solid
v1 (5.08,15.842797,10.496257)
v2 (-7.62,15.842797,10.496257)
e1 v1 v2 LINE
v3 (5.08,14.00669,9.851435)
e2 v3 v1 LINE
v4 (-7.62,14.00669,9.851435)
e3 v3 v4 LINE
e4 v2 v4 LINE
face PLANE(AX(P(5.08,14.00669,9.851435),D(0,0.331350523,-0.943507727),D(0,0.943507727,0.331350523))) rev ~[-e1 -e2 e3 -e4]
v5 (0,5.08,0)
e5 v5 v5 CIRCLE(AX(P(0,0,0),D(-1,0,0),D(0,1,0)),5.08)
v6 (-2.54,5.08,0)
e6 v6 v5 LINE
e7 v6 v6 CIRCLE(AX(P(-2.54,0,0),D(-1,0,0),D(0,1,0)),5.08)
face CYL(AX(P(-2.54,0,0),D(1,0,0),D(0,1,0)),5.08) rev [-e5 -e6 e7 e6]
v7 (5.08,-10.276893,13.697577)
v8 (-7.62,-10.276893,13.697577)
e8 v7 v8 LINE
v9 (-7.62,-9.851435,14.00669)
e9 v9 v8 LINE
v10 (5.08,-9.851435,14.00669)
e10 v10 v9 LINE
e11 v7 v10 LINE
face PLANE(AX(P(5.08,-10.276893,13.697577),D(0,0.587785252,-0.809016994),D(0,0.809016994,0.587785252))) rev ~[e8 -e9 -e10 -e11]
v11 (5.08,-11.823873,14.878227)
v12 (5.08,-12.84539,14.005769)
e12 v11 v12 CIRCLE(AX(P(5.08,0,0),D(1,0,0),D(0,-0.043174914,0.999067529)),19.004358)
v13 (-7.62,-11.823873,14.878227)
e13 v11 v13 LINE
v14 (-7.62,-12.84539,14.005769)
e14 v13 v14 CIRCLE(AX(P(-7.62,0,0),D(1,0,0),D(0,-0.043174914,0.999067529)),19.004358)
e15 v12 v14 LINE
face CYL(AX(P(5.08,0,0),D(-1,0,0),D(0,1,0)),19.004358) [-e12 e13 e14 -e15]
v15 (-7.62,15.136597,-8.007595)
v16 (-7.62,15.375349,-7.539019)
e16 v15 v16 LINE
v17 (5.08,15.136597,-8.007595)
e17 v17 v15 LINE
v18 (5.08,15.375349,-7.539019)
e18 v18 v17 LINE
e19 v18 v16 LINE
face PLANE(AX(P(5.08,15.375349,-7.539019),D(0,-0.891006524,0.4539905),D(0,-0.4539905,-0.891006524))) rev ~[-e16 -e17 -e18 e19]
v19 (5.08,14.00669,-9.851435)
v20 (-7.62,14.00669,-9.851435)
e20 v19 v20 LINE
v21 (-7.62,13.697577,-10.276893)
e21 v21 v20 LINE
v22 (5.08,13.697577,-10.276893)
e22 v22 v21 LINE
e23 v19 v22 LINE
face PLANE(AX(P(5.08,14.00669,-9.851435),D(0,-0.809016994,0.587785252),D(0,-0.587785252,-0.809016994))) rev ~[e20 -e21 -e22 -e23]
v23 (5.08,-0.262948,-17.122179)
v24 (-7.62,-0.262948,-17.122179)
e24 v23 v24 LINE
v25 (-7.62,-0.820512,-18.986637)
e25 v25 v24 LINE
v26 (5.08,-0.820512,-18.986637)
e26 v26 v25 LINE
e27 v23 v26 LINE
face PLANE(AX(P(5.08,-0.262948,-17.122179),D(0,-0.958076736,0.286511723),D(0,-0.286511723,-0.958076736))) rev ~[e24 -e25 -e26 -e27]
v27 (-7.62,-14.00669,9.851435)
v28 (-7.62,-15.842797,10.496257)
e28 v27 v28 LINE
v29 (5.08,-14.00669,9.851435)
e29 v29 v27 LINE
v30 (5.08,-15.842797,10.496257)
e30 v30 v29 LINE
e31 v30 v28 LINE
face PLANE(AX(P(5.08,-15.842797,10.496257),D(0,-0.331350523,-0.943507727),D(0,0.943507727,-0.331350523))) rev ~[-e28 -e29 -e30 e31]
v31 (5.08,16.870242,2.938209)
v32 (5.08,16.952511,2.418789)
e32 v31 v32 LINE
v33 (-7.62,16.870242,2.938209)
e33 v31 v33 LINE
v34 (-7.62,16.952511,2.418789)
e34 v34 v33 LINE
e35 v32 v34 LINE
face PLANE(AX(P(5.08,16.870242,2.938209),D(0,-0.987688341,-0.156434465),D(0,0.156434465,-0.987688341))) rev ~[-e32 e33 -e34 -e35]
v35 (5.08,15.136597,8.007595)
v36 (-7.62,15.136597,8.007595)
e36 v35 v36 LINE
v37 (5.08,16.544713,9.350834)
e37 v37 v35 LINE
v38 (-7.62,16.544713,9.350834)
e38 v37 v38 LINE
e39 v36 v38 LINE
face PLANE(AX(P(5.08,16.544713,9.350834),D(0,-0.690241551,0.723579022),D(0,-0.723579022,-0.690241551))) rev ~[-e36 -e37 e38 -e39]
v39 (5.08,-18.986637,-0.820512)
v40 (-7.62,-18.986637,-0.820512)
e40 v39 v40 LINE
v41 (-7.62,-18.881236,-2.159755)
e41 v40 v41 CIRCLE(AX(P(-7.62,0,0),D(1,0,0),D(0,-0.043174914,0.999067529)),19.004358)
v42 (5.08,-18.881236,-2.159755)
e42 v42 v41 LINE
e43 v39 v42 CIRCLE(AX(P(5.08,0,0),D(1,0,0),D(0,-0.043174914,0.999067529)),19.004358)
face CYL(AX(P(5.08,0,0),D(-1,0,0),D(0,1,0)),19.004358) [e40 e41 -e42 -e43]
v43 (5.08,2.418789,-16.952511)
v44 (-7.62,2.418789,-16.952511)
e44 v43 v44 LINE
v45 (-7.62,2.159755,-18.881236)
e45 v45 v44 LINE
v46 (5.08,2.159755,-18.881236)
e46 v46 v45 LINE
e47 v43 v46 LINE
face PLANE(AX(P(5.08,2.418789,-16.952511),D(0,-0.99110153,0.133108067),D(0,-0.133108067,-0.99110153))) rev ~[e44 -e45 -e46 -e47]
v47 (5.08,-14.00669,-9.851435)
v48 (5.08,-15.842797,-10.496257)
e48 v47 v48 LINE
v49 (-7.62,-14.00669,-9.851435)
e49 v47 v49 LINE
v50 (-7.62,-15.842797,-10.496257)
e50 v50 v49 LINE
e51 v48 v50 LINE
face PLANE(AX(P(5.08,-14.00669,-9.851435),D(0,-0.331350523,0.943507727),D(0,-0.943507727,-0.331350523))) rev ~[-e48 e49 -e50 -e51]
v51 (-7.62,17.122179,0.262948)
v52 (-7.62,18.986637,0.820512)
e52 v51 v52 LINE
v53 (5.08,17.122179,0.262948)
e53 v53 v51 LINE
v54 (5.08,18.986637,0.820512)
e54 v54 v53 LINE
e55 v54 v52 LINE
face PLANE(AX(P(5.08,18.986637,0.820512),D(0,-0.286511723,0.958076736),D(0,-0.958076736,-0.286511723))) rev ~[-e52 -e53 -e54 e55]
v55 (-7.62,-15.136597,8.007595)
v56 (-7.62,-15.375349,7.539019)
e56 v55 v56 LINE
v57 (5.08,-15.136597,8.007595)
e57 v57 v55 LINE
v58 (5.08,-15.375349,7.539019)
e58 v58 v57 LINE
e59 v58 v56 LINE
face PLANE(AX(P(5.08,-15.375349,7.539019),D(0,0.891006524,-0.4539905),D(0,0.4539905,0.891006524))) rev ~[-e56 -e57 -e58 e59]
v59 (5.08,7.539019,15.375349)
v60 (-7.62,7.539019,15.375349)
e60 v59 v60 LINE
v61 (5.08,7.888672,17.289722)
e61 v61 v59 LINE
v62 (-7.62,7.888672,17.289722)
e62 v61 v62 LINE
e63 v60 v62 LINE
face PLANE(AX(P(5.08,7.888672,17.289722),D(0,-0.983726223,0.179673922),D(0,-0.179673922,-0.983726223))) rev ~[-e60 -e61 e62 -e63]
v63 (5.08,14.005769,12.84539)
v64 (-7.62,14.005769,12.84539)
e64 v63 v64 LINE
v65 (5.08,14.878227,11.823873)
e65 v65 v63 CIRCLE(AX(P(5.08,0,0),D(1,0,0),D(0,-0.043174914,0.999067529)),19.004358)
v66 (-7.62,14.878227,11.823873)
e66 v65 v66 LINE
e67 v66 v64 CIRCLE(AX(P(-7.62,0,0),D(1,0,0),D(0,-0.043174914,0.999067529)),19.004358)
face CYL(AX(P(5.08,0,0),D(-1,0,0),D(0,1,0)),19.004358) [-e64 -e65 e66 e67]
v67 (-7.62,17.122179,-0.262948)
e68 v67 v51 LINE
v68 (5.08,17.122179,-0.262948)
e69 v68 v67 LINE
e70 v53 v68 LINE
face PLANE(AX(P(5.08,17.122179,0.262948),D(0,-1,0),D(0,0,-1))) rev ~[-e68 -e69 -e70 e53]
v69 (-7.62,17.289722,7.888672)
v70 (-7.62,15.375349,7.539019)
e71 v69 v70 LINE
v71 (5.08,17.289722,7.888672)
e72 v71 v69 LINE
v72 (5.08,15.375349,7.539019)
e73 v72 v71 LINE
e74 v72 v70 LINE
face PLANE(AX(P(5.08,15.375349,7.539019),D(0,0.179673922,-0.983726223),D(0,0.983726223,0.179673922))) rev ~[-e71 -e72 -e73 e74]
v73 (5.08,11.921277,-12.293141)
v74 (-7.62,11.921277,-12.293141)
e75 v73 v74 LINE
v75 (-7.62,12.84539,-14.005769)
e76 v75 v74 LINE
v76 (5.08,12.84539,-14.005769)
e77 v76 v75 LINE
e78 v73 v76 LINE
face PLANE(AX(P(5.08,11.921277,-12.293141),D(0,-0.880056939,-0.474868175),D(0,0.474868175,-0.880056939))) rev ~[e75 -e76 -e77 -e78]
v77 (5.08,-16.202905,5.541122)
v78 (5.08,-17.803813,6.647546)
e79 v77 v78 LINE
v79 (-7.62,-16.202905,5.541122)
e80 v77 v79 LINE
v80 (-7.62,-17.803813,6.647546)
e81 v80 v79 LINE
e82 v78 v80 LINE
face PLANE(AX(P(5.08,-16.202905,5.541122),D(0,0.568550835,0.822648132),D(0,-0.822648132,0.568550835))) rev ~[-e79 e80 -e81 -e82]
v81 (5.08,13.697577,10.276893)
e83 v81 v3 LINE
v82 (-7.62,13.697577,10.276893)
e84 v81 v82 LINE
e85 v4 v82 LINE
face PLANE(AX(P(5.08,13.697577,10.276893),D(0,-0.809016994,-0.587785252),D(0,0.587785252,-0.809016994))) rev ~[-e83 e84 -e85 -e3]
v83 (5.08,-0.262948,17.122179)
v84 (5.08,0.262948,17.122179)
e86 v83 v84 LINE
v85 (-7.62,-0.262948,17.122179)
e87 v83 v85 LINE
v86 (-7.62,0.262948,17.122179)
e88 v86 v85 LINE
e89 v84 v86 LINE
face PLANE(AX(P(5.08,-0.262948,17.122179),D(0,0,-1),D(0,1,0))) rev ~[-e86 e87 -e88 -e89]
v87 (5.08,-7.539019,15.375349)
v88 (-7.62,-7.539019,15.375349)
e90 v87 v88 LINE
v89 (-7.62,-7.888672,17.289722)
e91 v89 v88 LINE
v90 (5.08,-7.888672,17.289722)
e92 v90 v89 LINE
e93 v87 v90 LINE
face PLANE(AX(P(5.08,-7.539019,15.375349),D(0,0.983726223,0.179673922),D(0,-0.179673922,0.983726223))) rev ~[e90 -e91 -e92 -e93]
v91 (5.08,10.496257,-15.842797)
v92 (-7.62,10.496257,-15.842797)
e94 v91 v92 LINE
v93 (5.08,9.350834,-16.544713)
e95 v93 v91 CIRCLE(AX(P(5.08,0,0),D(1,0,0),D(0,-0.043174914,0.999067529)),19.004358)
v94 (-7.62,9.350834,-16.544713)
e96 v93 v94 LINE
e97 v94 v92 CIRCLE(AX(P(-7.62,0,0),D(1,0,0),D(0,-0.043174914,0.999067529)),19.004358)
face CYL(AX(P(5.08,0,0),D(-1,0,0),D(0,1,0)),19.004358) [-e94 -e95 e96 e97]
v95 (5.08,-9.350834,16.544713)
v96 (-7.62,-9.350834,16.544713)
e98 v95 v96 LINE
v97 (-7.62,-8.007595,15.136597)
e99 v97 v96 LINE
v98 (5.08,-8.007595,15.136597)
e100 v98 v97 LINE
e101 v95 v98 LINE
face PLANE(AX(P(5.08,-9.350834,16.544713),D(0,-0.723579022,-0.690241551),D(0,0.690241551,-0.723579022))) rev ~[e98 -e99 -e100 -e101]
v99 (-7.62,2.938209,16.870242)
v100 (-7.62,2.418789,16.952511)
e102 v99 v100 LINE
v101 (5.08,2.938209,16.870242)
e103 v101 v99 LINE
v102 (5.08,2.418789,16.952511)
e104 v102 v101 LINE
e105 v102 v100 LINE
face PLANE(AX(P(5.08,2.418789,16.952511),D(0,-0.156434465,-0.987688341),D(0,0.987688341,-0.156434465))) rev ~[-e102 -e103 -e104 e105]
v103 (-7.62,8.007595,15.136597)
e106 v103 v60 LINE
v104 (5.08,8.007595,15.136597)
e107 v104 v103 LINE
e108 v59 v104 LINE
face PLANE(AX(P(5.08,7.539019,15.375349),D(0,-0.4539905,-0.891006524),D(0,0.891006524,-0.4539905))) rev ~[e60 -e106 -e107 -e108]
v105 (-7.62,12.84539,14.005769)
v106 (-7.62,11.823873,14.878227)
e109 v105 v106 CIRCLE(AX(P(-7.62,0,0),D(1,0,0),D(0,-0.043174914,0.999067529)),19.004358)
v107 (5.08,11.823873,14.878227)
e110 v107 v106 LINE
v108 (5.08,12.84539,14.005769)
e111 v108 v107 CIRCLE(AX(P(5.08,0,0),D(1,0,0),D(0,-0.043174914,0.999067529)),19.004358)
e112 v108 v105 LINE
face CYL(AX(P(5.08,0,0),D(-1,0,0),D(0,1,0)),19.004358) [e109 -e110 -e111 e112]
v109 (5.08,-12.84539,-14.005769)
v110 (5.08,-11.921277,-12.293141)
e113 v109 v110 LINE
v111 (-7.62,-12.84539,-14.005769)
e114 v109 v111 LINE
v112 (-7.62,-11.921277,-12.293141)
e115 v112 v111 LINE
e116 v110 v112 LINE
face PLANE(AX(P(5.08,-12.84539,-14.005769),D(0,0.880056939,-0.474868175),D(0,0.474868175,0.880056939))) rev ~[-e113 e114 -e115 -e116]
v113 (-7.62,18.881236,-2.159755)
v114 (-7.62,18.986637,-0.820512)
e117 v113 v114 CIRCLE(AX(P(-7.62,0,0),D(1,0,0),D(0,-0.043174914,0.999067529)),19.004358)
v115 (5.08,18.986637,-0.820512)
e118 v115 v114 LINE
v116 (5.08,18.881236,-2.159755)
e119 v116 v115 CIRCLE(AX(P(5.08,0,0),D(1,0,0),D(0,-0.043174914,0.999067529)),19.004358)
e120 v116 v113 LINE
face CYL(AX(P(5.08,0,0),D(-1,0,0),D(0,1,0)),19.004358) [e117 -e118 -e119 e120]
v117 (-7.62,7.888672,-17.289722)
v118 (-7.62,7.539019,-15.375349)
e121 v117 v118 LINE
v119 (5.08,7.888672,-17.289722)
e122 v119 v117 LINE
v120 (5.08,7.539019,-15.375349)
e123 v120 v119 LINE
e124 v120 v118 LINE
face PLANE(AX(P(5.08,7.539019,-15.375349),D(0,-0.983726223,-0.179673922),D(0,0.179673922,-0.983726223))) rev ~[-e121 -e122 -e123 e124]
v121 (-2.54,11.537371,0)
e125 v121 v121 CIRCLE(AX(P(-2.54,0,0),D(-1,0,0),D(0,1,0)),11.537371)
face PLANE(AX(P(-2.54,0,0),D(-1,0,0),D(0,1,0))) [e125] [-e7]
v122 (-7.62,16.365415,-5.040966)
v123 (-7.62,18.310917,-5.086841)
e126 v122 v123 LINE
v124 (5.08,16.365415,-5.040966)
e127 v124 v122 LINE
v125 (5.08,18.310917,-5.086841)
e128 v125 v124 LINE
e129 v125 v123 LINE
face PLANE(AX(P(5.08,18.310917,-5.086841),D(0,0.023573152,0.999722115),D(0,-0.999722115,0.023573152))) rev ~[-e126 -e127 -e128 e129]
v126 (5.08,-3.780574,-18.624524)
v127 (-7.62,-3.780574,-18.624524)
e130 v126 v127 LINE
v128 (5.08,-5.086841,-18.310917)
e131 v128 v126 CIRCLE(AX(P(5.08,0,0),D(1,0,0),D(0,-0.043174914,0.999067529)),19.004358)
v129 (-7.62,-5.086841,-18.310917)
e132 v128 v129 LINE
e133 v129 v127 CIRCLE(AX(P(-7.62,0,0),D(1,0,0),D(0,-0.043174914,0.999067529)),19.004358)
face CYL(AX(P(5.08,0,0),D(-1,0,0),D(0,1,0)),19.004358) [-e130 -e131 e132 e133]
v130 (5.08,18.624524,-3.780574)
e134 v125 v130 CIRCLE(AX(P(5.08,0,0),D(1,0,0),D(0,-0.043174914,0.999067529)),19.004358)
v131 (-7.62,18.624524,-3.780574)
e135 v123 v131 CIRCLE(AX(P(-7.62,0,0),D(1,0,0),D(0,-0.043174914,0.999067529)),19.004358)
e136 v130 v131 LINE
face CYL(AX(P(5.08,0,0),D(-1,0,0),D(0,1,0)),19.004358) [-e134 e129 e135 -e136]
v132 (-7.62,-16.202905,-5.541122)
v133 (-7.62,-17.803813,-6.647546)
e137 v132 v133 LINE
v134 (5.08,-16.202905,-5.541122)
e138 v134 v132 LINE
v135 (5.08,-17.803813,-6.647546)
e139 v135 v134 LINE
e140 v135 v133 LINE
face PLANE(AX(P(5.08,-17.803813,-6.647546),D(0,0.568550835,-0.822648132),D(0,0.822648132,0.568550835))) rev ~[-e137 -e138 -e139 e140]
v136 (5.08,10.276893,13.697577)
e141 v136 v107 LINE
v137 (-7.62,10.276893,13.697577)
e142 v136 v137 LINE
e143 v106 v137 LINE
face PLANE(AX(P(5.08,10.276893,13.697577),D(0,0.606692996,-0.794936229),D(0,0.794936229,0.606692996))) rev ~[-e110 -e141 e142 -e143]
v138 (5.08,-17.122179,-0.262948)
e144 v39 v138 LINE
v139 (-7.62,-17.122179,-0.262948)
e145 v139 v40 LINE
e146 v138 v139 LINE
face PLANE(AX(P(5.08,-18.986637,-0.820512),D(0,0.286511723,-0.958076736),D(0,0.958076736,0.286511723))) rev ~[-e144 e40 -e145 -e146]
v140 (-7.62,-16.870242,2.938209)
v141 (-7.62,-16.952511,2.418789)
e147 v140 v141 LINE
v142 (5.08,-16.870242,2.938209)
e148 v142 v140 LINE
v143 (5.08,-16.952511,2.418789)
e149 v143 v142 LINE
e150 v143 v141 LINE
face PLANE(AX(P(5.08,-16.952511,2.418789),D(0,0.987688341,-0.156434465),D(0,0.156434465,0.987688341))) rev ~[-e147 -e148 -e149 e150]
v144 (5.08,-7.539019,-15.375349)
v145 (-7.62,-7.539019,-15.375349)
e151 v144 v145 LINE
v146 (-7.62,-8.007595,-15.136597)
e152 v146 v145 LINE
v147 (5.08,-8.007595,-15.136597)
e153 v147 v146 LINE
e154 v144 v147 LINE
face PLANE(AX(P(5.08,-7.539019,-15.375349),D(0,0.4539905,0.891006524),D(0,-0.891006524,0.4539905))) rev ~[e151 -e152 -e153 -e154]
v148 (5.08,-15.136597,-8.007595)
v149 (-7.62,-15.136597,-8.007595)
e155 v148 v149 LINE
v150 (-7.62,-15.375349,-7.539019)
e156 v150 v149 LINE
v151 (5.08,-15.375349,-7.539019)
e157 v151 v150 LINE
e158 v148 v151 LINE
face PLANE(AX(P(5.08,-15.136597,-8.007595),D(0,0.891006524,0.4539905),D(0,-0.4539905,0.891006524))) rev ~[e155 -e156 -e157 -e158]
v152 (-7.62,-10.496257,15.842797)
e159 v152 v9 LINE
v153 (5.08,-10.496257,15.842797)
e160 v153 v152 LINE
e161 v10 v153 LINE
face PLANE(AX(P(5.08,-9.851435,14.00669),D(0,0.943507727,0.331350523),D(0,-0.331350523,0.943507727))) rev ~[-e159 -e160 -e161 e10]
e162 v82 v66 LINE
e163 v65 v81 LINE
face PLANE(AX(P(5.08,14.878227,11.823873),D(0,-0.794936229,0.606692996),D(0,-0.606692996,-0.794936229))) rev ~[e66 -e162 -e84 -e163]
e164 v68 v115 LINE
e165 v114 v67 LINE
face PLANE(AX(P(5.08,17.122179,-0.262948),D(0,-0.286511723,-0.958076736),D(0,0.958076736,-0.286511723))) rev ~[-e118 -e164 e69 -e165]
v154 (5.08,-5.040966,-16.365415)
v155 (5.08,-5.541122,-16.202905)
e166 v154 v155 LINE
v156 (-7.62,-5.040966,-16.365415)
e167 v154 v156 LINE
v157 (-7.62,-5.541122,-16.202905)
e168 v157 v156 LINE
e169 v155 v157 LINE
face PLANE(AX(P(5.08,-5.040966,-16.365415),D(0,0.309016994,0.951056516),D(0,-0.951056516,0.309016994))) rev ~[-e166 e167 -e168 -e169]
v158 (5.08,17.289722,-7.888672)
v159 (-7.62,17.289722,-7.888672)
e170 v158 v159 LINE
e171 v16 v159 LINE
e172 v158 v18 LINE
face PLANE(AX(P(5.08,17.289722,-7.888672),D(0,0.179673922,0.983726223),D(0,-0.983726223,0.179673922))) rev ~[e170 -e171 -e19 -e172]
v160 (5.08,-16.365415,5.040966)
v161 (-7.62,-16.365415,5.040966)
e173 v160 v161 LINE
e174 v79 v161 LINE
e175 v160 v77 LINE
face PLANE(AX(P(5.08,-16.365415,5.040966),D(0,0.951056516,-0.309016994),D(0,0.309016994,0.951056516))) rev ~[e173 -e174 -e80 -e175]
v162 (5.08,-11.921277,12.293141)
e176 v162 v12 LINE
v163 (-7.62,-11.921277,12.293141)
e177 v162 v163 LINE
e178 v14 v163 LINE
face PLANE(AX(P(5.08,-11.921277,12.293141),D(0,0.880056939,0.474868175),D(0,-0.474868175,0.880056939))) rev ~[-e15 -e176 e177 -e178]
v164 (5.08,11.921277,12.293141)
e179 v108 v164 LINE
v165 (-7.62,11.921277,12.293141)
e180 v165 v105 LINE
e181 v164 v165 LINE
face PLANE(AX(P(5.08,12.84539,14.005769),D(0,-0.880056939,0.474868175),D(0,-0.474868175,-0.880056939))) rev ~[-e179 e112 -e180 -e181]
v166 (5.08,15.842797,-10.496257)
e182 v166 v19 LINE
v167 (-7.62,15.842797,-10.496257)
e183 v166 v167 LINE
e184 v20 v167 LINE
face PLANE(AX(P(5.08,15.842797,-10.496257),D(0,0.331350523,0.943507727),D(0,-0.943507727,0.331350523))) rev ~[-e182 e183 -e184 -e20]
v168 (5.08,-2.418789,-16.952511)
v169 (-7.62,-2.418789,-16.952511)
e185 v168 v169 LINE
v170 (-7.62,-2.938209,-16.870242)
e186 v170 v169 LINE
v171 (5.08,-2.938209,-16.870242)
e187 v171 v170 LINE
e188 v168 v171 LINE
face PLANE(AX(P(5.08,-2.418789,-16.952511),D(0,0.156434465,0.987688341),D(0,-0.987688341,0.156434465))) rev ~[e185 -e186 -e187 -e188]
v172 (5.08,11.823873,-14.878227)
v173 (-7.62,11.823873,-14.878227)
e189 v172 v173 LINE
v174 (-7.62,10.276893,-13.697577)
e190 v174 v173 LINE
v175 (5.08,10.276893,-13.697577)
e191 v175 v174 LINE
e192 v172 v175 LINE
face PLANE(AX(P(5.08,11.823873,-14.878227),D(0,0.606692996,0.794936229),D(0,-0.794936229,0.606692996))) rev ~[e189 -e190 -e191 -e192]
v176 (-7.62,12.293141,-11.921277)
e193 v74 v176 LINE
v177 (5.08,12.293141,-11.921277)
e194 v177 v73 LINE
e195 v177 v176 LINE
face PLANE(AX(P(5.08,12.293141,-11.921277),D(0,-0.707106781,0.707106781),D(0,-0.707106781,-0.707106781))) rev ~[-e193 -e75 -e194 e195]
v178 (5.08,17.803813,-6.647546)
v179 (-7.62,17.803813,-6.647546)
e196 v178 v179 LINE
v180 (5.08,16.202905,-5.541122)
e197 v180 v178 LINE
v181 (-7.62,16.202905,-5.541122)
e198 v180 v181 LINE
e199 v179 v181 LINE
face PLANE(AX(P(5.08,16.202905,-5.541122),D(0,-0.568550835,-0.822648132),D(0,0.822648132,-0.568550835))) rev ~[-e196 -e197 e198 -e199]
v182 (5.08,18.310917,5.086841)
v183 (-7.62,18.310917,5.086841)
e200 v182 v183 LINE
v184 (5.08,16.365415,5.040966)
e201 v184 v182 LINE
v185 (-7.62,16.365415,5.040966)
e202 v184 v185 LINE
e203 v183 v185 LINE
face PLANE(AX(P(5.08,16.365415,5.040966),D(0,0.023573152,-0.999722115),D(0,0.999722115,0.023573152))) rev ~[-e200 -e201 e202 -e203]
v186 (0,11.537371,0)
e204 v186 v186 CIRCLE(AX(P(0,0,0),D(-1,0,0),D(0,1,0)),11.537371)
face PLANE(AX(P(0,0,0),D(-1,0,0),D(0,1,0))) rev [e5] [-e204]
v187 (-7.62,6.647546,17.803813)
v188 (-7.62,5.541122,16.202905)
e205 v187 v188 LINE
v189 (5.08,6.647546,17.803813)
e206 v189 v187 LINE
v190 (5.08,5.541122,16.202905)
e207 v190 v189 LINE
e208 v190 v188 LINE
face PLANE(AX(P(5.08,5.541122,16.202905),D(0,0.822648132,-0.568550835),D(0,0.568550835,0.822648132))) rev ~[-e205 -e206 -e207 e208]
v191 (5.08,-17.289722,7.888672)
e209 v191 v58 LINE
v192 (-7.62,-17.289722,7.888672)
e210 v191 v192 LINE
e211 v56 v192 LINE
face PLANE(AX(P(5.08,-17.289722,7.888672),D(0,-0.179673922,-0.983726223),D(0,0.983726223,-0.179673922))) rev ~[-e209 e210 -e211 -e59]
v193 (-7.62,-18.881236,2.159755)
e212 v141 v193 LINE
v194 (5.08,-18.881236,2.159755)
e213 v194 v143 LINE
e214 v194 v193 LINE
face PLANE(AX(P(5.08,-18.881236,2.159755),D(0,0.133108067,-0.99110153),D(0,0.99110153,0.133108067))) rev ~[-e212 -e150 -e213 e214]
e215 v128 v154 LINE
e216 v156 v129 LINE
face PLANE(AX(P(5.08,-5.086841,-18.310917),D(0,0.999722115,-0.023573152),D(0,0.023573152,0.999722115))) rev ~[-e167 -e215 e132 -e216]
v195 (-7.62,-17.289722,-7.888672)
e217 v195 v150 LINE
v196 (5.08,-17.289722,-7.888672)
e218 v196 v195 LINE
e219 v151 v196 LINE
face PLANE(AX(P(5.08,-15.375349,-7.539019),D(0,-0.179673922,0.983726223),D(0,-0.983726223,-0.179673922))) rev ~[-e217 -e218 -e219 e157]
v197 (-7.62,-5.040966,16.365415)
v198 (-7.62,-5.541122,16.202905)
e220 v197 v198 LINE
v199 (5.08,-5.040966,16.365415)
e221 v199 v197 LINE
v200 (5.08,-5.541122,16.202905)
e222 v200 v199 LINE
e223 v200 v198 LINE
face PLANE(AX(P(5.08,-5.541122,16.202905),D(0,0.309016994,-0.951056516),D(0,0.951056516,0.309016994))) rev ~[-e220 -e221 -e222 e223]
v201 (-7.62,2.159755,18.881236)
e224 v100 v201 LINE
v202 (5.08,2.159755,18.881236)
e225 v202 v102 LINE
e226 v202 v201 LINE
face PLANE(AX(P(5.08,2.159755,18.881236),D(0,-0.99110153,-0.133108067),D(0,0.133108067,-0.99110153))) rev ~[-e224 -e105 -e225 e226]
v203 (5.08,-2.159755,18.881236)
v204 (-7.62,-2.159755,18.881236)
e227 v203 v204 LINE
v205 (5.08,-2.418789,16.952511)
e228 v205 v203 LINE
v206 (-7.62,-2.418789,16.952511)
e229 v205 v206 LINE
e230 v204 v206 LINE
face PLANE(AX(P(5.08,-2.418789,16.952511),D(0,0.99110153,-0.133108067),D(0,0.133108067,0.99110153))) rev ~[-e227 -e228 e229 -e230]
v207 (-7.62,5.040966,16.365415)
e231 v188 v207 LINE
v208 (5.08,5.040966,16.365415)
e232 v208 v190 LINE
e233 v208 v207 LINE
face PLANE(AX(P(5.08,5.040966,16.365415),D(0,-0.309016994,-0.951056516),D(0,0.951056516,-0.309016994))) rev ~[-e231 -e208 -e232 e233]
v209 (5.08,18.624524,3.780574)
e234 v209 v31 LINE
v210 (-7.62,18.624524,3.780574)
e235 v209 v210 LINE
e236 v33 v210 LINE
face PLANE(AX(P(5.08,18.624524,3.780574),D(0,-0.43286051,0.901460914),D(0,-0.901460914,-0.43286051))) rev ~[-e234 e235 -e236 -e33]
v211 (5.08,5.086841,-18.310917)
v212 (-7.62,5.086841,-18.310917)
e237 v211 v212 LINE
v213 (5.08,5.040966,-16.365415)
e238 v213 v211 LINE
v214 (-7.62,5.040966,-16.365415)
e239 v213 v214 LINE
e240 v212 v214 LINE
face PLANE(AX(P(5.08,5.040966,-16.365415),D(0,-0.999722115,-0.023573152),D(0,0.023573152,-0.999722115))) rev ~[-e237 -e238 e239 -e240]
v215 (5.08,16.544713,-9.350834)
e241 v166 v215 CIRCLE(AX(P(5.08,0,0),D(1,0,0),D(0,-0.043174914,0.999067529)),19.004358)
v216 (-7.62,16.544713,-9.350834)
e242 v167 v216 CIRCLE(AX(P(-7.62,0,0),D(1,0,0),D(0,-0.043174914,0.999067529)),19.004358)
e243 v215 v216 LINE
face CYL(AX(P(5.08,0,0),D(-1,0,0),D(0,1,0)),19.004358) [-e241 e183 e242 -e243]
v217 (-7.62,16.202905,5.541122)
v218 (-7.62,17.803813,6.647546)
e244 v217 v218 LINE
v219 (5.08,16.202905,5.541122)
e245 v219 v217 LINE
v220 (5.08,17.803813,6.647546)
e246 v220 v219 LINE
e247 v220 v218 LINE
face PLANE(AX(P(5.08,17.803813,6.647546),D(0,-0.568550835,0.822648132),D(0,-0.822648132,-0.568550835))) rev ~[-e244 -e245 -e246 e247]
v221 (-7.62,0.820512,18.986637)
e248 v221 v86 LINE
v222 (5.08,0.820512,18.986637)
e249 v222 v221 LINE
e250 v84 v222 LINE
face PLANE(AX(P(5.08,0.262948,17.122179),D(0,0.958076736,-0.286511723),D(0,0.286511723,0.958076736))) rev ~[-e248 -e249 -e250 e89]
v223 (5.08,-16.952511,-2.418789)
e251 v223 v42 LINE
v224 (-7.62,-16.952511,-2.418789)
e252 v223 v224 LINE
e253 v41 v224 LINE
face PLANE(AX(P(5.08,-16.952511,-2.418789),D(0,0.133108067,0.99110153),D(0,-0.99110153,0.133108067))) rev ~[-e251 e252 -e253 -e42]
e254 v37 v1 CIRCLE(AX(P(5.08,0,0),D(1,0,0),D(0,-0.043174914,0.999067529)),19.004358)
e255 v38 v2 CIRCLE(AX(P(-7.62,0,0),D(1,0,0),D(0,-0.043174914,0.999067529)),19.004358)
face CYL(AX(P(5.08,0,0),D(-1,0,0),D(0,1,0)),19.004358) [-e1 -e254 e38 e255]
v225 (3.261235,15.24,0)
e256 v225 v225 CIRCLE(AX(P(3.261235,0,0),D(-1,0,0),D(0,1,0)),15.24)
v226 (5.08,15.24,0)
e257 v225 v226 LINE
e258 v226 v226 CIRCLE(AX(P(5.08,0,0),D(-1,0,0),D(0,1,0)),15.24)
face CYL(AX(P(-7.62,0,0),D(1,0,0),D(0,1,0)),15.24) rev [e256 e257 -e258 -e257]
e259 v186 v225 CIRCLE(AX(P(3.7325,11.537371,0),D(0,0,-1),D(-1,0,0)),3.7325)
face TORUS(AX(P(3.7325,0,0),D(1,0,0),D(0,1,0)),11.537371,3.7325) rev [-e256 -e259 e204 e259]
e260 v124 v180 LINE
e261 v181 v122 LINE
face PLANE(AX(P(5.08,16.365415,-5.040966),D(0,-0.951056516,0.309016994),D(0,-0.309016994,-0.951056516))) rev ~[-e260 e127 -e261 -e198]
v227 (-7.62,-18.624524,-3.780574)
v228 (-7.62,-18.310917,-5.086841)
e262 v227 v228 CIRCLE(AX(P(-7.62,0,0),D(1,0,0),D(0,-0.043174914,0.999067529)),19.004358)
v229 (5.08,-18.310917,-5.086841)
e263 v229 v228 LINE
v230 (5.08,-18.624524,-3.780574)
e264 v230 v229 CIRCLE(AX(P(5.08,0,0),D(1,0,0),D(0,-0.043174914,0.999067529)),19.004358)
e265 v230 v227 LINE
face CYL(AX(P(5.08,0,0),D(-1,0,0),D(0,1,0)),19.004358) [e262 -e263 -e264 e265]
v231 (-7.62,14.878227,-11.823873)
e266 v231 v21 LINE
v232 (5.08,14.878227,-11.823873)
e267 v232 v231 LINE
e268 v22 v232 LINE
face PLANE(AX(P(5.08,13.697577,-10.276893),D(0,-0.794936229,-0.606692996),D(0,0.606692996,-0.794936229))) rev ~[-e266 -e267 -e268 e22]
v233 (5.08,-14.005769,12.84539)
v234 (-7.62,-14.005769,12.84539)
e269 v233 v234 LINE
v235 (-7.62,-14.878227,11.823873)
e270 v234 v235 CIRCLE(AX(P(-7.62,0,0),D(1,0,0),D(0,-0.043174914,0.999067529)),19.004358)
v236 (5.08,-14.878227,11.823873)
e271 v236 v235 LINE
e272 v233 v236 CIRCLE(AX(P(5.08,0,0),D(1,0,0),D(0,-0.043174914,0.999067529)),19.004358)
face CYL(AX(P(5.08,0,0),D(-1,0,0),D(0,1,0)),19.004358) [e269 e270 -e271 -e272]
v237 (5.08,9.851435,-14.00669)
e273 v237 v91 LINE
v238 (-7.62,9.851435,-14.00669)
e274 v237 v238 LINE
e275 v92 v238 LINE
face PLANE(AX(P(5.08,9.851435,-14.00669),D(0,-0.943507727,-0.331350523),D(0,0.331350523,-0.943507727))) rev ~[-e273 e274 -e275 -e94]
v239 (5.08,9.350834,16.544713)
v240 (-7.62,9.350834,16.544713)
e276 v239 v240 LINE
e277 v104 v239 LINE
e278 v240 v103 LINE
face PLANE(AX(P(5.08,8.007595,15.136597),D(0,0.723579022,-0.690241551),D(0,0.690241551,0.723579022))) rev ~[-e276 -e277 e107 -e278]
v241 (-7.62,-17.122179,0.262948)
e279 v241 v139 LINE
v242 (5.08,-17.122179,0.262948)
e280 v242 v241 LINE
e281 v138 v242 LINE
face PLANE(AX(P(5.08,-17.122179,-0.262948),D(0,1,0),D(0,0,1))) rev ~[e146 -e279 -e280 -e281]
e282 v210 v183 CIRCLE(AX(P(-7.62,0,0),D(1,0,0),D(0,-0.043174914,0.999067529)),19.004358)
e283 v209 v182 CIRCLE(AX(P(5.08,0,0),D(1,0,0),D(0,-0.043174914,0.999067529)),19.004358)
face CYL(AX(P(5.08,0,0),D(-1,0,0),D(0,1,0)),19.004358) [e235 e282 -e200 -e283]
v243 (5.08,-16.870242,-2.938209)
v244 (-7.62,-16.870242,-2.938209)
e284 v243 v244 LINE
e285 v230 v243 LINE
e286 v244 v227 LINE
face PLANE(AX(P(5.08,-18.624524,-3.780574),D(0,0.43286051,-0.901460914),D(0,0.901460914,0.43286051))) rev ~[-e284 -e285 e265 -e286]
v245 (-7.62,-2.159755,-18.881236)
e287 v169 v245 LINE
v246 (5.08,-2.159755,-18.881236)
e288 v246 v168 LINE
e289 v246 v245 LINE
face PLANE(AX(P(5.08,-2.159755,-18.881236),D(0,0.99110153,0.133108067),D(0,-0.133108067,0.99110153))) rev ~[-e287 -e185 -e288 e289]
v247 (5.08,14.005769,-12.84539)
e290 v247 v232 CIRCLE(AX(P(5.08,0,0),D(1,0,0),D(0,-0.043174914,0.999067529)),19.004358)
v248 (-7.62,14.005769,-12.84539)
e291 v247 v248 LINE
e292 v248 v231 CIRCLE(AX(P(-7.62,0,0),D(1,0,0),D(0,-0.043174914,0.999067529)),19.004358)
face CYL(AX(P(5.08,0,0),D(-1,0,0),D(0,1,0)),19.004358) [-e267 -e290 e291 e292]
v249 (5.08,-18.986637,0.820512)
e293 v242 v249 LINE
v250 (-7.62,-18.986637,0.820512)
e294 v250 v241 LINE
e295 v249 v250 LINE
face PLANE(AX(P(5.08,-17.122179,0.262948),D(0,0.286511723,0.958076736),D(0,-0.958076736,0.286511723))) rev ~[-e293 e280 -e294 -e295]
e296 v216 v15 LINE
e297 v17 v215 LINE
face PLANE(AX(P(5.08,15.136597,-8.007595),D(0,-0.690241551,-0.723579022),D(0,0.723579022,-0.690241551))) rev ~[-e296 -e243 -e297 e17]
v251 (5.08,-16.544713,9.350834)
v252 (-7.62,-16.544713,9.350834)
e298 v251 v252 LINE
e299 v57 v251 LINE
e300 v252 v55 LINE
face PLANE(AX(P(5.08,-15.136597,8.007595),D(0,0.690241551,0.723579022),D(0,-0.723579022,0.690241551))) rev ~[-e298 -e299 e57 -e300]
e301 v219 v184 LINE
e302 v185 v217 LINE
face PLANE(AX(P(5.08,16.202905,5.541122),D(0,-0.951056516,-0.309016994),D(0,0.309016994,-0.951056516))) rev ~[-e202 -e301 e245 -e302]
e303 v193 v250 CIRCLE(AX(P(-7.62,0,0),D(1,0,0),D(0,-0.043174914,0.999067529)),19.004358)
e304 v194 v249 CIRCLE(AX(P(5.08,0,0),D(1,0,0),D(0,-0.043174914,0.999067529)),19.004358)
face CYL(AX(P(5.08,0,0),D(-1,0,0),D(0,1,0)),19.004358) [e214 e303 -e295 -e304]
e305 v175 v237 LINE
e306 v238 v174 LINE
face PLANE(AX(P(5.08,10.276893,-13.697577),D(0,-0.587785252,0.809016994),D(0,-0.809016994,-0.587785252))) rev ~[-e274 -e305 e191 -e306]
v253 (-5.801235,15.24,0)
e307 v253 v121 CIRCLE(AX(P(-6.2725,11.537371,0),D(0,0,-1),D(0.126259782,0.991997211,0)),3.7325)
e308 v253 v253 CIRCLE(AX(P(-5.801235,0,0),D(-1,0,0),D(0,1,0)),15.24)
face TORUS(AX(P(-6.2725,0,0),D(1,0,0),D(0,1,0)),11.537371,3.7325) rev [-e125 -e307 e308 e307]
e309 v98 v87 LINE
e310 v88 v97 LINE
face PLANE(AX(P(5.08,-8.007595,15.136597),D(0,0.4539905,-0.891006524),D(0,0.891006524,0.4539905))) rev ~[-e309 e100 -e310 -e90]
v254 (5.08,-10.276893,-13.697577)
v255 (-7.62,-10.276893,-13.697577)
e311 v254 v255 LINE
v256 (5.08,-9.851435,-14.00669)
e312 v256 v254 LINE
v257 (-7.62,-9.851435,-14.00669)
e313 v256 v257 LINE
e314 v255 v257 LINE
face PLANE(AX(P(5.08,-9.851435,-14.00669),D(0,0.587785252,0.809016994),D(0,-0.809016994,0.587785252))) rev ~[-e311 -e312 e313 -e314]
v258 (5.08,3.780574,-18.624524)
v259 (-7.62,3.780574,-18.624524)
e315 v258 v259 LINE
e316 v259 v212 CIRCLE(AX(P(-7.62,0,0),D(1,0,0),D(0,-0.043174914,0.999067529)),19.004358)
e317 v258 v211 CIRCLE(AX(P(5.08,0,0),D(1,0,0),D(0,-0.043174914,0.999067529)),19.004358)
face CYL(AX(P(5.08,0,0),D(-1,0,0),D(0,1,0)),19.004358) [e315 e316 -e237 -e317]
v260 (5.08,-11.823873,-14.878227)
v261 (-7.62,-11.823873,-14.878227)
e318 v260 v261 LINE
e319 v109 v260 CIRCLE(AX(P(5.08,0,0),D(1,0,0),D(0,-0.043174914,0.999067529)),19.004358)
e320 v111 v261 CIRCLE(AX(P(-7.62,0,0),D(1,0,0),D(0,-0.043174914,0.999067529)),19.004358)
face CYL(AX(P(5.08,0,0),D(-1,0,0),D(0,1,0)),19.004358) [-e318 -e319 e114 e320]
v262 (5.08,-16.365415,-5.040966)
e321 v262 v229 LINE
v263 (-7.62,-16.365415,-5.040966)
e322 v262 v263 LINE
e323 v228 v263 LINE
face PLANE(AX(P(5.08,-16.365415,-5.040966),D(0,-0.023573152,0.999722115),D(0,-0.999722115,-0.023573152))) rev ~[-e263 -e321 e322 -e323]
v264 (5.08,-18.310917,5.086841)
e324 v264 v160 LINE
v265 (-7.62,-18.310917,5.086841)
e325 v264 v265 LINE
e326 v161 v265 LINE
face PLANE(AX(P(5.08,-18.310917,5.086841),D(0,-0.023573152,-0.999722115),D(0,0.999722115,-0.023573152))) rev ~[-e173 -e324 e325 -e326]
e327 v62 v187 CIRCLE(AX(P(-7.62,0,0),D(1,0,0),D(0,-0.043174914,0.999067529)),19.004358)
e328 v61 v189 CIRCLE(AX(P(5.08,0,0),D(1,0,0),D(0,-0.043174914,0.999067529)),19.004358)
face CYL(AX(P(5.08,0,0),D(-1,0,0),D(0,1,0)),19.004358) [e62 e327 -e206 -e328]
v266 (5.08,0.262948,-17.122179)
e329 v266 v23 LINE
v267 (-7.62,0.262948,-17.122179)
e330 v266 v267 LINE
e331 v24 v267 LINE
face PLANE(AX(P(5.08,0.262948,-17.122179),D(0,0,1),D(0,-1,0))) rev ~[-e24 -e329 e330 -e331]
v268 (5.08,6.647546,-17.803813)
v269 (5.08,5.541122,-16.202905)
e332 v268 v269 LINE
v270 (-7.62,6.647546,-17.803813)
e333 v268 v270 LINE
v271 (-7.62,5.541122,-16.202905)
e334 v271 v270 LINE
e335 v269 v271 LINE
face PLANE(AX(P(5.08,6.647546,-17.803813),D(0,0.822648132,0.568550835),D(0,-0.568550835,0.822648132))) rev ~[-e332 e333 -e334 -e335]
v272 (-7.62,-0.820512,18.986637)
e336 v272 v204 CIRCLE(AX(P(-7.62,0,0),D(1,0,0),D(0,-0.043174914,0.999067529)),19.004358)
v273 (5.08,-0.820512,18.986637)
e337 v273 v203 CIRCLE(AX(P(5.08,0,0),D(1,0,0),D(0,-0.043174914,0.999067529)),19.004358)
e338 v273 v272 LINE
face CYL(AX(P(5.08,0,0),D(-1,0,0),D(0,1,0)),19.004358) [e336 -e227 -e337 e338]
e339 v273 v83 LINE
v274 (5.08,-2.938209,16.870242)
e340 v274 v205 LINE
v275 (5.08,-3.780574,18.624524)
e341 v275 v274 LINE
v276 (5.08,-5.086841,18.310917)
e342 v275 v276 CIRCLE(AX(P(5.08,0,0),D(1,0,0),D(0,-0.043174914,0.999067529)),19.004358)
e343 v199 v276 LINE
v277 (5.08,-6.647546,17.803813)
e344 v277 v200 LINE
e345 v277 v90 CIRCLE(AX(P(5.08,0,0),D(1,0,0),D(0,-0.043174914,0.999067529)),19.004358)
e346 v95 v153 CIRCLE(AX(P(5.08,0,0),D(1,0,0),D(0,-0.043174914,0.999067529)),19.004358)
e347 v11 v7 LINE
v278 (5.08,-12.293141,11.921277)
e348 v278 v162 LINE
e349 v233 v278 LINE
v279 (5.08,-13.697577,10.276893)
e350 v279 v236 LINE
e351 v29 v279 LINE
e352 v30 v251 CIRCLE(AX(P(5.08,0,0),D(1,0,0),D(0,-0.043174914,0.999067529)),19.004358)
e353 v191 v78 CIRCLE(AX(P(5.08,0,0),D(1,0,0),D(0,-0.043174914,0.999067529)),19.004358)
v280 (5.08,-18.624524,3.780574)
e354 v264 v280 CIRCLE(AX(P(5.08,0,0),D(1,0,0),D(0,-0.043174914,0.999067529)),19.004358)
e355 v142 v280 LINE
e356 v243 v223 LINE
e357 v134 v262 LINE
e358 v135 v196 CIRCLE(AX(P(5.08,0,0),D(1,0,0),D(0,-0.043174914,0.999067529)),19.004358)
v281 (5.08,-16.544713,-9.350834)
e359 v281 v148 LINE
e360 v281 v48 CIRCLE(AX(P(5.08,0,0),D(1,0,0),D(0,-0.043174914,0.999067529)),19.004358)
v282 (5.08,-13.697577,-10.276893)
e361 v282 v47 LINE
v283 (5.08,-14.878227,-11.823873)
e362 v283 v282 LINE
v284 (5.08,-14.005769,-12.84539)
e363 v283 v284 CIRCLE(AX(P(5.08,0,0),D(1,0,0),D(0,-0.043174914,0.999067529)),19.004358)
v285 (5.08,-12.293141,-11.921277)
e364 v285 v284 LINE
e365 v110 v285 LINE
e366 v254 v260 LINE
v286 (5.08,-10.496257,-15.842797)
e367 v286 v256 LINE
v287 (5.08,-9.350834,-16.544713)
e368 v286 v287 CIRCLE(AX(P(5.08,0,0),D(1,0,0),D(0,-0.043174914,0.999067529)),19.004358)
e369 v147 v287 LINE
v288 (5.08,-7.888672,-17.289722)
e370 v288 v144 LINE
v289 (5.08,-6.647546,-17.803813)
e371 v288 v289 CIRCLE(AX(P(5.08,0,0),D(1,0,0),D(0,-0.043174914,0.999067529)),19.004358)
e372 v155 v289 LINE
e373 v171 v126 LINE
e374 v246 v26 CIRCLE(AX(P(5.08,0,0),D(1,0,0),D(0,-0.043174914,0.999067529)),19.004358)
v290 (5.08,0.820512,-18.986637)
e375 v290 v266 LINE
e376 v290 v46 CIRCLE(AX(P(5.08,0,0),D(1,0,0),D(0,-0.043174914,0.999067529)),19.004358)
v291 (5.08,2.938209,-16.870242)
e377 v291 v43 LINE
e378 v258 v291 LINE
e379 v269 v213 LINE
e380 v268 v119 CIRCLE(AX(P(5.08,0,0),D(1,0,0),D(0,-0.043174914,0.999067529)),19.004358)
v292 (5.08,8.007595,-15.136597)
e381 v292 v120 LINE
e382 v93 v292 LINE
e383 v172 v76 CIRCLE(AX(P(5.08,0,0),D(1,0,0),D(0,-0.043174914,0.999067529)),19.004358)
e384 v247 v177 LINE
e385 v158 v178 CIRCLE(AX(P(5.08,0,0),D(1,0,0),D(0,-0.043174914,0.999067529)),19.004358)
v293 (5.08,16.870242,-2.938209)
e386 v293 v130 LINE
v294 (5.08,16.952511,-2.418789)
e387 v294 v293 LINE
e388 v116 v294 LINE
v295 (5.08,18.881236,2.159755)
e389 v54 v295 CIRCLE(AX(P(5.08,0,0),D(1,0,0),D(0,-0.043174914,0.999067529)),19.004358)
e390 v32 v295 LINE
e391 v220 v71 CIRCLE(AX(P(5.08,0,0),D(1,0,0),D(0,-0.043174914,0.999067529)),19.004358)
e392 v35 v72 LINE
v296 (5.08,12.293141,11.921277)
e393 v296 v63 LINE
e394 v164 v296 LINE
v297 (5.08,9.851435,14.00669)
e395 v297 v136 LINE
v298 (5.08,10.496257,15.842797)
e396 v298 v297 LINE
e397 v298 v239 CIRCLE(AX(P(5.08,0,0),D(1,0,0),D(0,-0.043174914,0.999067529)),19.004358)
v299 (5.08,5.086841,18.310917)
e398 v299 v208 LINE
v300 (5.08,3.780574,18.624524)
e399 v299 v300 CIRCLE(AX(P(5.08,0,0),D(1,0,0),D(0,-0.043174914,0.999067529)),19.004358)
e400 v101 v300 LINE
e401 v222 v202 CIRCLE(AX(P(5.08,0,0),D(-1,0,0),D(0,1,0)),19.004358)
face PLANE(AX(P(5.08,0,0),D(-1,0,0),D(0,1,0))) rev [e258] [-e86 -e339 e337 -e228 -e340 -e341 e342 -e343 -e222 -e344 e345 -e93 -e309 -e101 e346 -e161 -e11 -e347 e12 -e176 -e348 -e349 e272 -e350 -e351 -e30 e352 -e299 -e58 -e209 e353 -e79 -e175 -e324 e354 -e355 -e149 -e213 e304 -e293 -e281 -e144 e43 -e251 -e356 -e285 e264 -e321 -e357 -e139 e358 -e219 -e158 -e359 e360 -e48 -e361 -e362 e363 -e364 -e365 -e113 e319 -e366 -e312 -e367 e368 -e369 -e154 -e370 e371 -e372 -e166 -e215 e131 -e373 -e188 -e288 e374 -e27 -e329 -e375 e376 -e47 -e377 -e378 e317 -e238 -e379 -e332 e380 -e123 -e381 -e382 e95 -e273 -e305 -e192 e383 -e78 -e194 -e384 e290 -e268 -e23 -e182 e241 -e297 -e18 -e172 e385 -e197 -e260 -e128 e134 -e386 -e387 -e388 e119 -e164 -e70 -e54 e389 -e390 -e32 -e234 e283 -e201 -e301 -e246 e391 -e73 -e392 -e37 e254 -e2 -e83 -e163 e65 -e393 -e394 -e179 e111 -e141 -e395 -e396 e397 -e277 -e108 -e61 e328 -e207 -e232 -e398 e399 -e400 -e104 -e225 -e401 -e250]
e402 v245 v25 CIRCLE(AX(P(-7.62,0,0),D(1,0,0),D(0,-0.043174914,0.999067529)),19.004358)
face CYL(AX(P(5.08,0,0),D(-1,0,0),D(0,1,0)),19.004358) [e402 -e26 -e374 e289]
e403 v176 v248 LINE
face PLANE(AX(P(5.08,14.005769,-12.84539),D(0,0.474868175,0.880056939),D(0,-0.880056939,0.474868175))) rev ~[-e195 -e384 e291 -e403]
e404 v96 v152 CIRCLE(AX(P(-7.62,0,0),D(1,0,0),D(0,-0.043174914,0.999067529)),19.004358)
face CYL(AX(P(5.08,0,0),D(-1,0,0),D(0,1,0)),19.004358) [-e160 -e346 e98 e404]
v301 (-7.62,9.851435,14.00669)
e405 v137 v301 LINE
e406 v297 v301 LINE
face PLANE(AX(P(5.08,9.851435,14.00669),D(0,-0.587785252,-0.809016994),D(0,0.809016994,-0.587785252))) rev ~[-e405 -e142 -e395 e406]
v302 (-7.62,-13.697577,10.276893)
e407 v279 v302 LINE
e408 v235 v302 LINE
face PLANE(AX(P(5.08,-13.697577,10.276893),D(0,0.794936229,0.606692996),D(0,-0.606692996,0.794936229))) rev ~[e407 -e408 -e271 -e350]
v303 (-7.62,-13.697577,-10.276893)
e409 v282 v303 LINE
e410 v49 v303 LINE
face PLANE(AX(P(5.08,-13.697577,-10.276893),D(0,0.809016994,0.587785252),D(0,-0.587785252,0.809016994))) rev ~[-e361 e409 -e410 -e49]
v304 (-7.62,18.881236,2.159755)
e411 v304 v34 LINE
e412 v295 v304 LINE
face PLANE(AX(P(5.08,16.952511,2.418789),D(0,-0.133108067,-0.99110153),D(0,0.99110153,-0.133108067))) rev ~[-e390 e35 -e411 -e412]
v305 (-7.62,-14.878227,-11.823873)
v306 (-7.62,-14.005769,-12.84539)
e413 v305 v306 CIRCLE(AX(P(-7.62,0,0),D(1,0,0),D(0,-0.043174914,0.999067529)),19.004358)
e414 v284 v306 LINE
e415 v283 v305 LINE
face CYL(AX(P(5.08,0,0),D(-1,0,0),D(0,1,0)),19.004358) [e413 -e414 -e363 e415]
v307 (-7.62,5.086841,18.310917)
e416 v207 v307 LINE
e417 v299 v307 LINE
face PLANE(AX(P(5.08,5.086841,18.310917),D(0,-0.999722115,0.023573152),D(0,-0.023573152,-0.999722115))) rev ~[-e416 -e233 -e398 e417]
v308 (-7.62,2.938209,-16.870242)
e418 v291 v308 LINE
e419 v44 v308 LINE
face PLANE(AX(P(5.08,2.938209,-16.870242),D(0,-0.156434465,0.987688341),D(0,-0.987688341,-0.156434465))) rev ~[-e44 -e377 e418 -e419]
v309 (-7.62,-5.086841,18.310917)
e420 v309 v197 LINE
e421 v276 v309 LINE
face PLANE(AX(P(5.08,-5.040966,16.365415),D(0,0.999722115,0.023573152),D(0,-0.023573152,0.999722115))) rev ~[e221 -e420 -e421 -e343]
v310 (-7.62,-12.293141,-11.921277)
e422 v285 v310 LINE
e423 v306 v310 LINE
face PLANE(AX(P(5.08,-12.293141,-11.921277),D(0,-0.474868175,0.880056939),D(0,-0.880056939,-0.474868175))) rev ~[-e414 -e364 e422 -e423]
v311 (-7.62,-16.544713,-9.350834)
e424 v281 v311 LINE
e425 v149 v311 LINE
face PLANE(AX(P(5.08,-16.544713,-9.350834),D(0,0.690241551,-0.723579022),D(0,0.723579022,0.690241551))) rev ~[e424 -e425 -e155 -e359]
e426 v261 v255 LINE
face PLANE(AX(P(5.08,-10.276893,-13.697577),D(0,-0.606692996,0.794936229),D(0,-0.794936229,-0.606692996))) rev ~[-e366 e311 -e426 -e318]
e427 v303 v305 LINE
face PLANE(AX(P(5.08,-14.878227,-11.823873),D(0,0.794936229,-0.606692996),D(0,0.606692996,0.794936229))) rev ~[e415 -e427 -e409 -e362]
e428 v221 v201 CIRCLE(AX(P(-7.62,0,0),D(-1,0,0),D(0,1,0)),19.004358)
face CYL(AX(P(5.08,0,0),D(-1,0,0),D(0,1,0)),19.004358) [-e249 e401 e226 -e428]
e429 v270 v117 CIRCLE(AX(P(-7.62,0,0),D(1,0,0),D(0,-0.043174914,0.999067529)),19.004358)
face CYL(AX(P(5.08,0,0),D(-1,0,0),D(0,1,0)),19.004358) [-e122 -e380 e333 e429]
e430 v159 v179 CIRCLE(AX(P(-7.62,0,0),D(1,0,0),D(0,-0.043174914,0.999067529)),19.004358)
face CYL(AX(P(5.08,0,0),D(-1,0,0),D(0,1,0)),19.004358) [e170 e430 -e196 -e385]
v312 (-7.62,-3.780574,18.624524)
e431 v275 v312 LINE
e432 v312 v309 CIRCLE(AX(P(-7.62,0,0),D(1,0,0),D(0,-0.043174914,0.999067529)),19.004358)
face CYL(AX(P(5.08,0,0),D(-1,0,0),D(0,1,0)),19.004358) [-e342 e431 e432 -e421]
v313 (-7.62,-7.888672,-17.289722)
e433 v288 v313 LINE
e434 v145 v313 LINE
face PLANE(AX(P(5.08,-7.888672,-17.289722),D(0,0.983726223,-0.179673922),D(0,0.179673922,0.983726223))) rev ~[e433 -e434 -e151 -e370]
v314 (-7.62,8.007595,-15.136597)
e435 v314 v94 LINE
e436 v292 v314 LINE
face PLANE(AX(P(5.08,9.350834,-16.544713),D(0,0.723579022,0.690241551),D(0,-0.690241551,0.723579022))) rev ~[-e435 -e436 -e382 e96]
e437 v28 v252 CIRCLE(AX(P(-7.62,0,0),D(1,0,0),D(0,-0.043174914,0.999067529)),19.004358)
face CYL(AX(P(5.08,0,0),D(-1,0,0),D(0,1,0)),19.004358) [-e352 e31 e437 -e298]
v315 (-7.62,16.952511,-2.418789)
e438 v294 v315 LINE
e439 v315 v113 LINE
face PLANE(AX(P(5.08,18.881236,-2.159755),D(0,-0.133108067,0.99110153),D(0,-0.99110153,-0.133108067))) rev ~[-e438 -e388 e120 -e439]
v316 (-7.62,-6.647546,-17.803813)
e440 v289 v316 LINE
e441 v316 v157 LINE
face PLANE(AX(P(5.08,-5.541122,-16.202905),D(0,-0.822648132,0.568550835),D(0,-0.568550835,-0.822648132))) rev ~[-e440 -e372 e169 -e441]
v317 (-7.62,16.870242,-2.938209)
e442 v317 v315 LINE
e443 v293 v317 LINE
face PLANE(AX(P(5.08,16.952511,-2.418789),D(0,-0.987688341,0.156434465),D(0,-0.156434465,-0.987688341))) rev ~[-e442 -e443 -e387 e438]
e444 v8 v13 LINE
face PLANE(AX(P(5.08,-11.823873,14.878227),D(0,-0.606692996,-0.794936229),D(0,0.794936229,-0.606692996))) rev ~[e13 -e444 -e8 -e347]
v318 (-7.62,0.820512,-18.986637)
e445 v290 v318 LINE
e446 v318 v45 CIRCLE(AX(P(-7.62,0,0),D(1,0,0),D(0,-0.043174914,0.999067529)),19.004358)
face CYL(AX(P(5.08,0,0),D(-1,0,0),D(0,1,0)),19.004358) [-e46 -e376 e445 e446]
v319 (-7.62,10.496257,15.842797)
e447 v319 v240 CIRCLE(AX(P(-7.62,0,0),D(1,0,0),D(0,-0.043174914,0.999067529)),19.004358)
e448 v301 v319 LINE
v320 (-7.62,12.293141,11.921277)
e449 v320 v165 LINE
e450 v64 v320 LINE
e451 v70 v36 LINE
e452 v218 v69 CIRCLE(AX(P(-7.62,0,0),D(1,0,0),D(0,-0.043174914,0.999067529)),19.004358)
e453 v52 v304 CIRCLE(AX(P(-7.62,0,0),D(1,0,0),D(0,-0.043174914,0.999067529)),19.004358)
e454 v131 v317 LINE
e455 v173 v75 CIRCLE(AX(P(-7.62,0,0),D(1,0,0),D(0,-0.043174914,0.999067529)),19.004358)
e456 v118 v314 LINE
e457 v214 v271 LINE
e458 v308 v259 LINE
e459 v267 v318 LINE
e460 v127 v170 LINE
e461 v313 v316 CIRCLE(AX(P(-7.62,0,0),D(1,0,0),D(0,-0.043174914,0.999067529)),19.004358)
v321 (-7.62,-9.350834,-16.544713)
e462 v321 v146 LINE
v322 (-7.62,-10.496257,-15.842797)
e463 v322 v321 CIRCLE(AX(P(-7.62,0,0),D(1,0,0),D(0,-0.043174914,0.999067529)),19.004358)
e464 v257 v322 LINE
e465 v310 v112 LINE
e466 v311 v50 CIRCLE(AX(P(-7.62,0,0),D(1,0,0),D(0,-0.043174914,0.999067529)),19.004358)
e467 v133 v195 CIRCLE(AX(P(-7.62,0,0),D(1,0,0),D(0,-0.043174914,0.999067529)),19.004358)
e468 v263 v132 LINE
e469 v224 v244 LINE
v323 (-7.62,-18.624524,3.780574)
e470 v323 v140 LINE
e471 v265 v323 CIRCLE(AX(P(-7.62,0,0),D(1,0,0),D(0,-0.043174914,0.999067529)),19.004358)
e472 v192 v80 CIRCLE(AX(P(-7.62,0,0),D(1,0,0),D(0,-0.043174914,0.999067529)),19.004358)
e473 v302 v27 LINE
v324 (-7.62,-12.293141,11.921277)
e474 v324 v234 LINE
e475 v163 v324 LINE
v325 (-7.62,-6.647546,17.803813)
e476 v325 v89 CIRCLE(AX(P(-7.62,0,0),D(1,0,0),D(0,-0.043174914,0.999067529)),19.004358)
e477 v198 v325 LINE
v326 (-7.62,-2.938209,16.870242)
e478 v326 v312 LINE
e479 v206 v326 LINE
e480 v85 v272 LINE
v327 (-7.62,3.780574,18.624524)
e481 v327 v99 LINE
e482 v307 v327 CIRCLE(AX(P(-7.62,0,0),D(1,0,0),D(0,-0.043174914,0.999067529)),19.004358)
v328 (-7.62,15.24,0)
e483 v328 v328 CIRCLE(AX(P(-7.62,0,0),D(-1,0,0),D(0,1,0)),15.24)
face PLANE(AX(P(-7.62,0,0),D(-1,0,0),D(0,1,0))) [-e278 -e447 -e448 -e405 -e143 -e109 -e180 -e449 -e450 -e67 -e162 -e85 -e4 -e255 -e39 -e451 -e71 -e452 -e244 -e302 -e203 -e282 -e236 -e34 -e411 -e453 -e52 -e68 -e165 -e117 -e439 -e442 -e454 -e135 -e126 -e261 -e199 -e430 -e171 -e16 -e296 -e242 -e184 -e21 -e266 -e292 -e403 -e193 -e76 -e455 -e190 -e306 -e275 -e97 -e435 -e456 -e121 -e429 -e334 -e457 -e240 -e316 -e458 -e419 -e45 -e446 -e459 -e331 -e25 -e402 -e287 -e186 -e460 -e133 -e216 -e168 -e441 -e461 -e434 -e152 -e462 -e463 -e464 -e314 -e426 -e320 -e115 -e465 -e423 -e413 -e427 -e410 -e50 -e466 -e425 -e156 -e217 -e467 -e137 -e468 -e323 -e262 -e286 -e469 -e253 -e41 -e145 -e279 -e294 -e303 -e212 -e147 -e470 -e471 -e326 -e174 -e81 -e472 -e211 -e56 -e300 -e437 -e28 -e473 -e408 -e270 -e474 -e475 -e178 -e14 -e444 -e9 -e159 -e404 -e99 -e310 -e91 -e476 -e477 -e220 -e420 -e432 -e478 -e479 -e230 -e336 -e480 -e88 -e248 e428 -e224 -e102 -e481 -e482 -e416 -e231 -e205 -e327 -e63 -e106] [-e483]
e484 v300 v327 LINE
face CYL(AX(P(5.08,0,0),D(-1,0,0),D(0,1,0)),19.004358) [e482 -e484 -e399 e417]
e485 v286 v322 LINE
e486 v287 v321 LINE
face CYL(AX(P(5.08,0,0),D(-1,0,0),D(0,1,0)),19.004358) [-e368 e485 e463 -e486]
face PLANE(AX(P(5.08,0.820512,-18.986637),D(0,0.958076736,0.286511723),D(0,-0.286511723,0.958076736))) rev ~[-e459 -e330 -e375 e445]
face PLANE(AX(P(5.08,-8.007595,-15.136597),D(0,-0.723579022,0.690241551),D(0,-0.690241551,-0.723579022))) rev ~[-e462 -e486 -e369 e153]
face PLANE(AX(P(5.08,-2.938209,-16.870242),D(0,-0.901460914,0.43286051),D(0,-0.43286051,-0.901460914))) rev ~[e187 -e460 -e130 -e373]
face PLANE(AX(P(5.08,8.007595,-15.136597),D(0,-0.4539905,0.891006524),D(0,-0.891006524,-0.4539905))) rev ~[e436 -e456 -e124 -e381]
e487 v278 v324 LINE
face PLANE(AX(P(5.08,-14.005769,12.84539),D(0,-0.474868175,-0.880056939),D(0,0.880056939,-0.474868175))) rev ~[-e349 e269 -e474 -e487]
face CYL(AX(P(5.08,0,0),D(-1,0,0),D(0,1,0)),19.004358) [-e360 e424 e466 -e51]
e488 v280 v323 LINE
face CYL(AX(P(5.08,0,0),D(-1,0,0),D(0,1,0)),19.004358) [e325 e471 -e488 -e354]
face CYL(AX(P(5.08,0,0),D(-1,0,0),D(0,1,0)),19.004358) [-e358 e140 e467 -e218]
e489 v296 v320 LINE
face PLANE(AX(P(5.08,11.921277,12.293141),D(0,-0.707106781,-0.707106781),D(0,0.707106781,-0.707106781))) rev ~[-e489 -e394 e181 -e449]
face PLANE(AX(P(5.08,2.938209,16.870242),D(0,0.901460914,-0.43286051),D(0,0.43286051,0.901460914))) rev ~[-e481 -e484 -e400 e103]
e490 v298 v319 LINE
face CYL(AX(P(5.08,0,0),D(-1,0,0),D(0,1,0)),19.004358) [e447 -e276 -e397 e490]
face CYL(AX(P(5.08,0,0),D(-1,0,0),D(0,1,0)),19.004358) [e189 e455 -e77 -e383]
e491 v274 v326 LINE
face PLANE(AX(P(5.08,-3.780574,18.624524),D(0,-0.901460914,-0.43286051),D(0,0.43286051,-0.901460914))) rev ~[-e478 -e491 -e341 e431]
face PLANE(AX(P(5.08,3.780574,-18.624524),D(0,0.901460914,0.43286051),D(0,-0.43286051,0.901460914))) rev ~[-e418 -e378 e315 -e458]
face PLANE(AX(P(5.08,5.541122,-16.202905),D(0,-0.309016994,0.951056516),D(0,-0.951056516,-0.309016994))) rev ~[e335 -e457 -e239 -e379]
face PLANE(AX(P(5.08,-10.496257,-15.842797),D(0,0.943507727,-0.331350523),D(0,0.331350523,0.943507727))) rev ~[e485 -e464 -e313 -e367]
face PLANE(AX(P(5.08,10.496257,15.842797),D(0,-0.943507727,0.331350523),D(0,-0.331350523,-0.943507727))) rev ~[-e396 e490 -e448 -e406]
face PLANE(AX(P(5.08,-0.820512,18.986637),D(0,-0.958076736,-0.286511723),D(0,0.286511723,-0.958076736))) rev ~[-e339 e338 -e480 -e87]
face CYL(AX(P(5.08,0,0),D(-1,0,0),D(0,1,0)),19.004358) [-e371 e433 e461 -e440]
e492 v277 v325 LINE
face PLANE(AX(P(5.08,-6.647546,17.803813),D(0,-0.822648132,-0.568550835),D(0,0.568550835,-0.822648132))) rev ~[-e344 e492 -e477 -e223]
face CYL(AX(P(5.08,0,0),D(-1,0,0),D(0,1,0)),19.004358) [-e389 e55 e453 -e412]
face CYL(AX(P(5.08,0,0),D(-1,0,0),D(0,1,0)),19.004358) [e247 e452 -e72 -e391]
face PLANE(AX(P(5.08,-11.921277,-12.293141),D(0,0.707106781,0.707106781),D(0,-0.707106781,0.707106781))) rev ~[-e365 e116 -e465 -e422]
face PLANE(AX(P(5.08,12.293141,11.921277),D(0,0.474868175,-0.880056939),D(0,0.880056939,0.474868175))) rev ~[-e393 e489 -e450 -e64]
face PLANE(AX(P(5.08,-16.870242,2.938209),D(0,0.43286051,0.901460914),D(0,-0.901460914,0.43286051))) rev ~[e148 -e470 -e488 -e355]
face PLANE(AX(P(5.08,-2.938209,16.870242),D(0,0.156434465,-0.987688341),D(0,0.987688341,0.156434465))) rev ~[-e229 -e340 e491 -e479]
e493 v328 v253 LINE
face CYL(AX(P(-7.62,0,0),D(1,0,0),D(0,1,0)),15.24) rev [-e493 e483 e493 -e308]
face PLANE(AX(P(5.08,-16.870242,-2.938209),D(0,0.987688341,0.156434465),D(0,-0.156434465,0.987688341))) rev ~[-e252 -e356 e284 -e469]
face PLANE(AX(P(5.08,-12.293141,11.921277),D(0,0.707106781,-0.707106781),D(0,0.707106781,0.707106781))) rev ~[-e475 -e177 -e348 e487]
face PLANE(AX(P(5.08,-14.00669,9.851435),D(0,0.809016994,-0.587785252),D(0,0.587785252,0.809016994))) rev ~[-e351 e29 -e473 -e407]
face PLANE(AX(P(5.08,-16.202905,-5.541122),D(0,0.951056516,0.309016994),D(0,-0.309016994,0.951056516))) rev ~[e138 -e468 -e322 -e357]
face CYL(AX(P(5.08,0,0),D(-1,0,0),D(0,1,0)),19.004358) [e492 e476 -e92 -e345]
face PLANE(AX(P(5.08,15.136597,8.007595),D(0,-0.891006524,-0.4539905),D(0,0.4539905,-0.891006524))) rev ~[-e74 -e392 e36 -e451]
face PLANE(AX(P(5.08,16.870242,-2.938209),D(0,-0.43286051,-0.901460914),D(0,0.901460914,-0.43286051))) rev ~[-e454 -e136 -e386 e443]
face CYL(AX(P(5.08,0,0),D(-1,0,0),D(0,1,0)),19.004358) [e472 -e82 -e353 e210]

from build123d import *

# Parameters (mm, degrees)
F3_DEPTH = 25.4
F4_COUNT = 40


with BuildPart() as f1:
    # F0 (on Top) → F1 (revolve)
    with BuildSketch(Plane.XY):
        Polygon((-2.54, 15.24), (0, 15.24), (3.2612350769, 15.24), (5.08, 15.24), (5.08, 19.0043579787), (-7.62, 19.0043579787), (-7.62, 15.24), (-5.8012350769, 15.24), align=None)
        with BuildLine():
            ThreePointArc((-5.8012350769, 15.24), (-3.4715579779, 14.0044093291), (-2.54, 11.5373707349))
            Line((-2.54, 11.5373707349), (-2.54, 15.24))
            Line((-2.54, 15.24), (-5.8012350769, 15.24))
        make_face()
        Polygon((-2.54, 5.08), (0, 5.08), (0, 11.5373707349), (0, 15.24), (-2.54, 15.24), (-2.54, 11.5373707349), align=None)
        with BuildLine():
            Line((0, 15.24), (0, 11.5373707349))
            ThreePointArc((0, 11.5373707349), (0.9315579779, 14.0044093291), (3.2612350769, 15.24))
            Line((3.2612350769, 15.24), (0, 15.24))
        make_face()
    revolve(axis=Axis((-6.35, 0, 0), (-1, 0, 0)))

    # F2 (on face) → F3 (cut)
    with BuildSketch(Plane.YZ.offset(5.08)):
        with BuildLine():
            Line((0, 17.1221789894), (0, 19.0043579787))
            ThreePointArc((0, 19.0043579787), (-0.4103514296, 18.9999272074), (-0.8205115163, 18.9866369596))
            Line((-0.8205115163, 18.9866369596), (-0.2629475493, 17.1221789894))
            Line((-0.2629475493, 17.1221789894), (0, 17.1221789894))
        make_face()
        with BuildLine():
            ThreePointArc((0.8205115163, 18.9866369596), (0.4103514296, 18.9999272074), (0, 19.0043579787))
            Line((0, 19.0043579787), (0, 17.1221789894))
            Line((0, 17.1221789894), (0.2629475493, 17.1221789894))
            Line((0.2629475493, 17.1221789894), (0.8205115163, 18.9866369596))
        make_face()
    f3 = extrude(amount=-F3_DEPTH, mode=Mode.SUBTRACT)

    # F4: F3 ×40 about axis
    f4_axis = Axis((0, 0, 0), (-1, 0, 0))
    for i in range(1, F4_COUNT):
        add(f3.rotate(f4_axis, i * 360 / F4_COUNT), mode=Mode.SUBTRACT)


solid = f1.part
